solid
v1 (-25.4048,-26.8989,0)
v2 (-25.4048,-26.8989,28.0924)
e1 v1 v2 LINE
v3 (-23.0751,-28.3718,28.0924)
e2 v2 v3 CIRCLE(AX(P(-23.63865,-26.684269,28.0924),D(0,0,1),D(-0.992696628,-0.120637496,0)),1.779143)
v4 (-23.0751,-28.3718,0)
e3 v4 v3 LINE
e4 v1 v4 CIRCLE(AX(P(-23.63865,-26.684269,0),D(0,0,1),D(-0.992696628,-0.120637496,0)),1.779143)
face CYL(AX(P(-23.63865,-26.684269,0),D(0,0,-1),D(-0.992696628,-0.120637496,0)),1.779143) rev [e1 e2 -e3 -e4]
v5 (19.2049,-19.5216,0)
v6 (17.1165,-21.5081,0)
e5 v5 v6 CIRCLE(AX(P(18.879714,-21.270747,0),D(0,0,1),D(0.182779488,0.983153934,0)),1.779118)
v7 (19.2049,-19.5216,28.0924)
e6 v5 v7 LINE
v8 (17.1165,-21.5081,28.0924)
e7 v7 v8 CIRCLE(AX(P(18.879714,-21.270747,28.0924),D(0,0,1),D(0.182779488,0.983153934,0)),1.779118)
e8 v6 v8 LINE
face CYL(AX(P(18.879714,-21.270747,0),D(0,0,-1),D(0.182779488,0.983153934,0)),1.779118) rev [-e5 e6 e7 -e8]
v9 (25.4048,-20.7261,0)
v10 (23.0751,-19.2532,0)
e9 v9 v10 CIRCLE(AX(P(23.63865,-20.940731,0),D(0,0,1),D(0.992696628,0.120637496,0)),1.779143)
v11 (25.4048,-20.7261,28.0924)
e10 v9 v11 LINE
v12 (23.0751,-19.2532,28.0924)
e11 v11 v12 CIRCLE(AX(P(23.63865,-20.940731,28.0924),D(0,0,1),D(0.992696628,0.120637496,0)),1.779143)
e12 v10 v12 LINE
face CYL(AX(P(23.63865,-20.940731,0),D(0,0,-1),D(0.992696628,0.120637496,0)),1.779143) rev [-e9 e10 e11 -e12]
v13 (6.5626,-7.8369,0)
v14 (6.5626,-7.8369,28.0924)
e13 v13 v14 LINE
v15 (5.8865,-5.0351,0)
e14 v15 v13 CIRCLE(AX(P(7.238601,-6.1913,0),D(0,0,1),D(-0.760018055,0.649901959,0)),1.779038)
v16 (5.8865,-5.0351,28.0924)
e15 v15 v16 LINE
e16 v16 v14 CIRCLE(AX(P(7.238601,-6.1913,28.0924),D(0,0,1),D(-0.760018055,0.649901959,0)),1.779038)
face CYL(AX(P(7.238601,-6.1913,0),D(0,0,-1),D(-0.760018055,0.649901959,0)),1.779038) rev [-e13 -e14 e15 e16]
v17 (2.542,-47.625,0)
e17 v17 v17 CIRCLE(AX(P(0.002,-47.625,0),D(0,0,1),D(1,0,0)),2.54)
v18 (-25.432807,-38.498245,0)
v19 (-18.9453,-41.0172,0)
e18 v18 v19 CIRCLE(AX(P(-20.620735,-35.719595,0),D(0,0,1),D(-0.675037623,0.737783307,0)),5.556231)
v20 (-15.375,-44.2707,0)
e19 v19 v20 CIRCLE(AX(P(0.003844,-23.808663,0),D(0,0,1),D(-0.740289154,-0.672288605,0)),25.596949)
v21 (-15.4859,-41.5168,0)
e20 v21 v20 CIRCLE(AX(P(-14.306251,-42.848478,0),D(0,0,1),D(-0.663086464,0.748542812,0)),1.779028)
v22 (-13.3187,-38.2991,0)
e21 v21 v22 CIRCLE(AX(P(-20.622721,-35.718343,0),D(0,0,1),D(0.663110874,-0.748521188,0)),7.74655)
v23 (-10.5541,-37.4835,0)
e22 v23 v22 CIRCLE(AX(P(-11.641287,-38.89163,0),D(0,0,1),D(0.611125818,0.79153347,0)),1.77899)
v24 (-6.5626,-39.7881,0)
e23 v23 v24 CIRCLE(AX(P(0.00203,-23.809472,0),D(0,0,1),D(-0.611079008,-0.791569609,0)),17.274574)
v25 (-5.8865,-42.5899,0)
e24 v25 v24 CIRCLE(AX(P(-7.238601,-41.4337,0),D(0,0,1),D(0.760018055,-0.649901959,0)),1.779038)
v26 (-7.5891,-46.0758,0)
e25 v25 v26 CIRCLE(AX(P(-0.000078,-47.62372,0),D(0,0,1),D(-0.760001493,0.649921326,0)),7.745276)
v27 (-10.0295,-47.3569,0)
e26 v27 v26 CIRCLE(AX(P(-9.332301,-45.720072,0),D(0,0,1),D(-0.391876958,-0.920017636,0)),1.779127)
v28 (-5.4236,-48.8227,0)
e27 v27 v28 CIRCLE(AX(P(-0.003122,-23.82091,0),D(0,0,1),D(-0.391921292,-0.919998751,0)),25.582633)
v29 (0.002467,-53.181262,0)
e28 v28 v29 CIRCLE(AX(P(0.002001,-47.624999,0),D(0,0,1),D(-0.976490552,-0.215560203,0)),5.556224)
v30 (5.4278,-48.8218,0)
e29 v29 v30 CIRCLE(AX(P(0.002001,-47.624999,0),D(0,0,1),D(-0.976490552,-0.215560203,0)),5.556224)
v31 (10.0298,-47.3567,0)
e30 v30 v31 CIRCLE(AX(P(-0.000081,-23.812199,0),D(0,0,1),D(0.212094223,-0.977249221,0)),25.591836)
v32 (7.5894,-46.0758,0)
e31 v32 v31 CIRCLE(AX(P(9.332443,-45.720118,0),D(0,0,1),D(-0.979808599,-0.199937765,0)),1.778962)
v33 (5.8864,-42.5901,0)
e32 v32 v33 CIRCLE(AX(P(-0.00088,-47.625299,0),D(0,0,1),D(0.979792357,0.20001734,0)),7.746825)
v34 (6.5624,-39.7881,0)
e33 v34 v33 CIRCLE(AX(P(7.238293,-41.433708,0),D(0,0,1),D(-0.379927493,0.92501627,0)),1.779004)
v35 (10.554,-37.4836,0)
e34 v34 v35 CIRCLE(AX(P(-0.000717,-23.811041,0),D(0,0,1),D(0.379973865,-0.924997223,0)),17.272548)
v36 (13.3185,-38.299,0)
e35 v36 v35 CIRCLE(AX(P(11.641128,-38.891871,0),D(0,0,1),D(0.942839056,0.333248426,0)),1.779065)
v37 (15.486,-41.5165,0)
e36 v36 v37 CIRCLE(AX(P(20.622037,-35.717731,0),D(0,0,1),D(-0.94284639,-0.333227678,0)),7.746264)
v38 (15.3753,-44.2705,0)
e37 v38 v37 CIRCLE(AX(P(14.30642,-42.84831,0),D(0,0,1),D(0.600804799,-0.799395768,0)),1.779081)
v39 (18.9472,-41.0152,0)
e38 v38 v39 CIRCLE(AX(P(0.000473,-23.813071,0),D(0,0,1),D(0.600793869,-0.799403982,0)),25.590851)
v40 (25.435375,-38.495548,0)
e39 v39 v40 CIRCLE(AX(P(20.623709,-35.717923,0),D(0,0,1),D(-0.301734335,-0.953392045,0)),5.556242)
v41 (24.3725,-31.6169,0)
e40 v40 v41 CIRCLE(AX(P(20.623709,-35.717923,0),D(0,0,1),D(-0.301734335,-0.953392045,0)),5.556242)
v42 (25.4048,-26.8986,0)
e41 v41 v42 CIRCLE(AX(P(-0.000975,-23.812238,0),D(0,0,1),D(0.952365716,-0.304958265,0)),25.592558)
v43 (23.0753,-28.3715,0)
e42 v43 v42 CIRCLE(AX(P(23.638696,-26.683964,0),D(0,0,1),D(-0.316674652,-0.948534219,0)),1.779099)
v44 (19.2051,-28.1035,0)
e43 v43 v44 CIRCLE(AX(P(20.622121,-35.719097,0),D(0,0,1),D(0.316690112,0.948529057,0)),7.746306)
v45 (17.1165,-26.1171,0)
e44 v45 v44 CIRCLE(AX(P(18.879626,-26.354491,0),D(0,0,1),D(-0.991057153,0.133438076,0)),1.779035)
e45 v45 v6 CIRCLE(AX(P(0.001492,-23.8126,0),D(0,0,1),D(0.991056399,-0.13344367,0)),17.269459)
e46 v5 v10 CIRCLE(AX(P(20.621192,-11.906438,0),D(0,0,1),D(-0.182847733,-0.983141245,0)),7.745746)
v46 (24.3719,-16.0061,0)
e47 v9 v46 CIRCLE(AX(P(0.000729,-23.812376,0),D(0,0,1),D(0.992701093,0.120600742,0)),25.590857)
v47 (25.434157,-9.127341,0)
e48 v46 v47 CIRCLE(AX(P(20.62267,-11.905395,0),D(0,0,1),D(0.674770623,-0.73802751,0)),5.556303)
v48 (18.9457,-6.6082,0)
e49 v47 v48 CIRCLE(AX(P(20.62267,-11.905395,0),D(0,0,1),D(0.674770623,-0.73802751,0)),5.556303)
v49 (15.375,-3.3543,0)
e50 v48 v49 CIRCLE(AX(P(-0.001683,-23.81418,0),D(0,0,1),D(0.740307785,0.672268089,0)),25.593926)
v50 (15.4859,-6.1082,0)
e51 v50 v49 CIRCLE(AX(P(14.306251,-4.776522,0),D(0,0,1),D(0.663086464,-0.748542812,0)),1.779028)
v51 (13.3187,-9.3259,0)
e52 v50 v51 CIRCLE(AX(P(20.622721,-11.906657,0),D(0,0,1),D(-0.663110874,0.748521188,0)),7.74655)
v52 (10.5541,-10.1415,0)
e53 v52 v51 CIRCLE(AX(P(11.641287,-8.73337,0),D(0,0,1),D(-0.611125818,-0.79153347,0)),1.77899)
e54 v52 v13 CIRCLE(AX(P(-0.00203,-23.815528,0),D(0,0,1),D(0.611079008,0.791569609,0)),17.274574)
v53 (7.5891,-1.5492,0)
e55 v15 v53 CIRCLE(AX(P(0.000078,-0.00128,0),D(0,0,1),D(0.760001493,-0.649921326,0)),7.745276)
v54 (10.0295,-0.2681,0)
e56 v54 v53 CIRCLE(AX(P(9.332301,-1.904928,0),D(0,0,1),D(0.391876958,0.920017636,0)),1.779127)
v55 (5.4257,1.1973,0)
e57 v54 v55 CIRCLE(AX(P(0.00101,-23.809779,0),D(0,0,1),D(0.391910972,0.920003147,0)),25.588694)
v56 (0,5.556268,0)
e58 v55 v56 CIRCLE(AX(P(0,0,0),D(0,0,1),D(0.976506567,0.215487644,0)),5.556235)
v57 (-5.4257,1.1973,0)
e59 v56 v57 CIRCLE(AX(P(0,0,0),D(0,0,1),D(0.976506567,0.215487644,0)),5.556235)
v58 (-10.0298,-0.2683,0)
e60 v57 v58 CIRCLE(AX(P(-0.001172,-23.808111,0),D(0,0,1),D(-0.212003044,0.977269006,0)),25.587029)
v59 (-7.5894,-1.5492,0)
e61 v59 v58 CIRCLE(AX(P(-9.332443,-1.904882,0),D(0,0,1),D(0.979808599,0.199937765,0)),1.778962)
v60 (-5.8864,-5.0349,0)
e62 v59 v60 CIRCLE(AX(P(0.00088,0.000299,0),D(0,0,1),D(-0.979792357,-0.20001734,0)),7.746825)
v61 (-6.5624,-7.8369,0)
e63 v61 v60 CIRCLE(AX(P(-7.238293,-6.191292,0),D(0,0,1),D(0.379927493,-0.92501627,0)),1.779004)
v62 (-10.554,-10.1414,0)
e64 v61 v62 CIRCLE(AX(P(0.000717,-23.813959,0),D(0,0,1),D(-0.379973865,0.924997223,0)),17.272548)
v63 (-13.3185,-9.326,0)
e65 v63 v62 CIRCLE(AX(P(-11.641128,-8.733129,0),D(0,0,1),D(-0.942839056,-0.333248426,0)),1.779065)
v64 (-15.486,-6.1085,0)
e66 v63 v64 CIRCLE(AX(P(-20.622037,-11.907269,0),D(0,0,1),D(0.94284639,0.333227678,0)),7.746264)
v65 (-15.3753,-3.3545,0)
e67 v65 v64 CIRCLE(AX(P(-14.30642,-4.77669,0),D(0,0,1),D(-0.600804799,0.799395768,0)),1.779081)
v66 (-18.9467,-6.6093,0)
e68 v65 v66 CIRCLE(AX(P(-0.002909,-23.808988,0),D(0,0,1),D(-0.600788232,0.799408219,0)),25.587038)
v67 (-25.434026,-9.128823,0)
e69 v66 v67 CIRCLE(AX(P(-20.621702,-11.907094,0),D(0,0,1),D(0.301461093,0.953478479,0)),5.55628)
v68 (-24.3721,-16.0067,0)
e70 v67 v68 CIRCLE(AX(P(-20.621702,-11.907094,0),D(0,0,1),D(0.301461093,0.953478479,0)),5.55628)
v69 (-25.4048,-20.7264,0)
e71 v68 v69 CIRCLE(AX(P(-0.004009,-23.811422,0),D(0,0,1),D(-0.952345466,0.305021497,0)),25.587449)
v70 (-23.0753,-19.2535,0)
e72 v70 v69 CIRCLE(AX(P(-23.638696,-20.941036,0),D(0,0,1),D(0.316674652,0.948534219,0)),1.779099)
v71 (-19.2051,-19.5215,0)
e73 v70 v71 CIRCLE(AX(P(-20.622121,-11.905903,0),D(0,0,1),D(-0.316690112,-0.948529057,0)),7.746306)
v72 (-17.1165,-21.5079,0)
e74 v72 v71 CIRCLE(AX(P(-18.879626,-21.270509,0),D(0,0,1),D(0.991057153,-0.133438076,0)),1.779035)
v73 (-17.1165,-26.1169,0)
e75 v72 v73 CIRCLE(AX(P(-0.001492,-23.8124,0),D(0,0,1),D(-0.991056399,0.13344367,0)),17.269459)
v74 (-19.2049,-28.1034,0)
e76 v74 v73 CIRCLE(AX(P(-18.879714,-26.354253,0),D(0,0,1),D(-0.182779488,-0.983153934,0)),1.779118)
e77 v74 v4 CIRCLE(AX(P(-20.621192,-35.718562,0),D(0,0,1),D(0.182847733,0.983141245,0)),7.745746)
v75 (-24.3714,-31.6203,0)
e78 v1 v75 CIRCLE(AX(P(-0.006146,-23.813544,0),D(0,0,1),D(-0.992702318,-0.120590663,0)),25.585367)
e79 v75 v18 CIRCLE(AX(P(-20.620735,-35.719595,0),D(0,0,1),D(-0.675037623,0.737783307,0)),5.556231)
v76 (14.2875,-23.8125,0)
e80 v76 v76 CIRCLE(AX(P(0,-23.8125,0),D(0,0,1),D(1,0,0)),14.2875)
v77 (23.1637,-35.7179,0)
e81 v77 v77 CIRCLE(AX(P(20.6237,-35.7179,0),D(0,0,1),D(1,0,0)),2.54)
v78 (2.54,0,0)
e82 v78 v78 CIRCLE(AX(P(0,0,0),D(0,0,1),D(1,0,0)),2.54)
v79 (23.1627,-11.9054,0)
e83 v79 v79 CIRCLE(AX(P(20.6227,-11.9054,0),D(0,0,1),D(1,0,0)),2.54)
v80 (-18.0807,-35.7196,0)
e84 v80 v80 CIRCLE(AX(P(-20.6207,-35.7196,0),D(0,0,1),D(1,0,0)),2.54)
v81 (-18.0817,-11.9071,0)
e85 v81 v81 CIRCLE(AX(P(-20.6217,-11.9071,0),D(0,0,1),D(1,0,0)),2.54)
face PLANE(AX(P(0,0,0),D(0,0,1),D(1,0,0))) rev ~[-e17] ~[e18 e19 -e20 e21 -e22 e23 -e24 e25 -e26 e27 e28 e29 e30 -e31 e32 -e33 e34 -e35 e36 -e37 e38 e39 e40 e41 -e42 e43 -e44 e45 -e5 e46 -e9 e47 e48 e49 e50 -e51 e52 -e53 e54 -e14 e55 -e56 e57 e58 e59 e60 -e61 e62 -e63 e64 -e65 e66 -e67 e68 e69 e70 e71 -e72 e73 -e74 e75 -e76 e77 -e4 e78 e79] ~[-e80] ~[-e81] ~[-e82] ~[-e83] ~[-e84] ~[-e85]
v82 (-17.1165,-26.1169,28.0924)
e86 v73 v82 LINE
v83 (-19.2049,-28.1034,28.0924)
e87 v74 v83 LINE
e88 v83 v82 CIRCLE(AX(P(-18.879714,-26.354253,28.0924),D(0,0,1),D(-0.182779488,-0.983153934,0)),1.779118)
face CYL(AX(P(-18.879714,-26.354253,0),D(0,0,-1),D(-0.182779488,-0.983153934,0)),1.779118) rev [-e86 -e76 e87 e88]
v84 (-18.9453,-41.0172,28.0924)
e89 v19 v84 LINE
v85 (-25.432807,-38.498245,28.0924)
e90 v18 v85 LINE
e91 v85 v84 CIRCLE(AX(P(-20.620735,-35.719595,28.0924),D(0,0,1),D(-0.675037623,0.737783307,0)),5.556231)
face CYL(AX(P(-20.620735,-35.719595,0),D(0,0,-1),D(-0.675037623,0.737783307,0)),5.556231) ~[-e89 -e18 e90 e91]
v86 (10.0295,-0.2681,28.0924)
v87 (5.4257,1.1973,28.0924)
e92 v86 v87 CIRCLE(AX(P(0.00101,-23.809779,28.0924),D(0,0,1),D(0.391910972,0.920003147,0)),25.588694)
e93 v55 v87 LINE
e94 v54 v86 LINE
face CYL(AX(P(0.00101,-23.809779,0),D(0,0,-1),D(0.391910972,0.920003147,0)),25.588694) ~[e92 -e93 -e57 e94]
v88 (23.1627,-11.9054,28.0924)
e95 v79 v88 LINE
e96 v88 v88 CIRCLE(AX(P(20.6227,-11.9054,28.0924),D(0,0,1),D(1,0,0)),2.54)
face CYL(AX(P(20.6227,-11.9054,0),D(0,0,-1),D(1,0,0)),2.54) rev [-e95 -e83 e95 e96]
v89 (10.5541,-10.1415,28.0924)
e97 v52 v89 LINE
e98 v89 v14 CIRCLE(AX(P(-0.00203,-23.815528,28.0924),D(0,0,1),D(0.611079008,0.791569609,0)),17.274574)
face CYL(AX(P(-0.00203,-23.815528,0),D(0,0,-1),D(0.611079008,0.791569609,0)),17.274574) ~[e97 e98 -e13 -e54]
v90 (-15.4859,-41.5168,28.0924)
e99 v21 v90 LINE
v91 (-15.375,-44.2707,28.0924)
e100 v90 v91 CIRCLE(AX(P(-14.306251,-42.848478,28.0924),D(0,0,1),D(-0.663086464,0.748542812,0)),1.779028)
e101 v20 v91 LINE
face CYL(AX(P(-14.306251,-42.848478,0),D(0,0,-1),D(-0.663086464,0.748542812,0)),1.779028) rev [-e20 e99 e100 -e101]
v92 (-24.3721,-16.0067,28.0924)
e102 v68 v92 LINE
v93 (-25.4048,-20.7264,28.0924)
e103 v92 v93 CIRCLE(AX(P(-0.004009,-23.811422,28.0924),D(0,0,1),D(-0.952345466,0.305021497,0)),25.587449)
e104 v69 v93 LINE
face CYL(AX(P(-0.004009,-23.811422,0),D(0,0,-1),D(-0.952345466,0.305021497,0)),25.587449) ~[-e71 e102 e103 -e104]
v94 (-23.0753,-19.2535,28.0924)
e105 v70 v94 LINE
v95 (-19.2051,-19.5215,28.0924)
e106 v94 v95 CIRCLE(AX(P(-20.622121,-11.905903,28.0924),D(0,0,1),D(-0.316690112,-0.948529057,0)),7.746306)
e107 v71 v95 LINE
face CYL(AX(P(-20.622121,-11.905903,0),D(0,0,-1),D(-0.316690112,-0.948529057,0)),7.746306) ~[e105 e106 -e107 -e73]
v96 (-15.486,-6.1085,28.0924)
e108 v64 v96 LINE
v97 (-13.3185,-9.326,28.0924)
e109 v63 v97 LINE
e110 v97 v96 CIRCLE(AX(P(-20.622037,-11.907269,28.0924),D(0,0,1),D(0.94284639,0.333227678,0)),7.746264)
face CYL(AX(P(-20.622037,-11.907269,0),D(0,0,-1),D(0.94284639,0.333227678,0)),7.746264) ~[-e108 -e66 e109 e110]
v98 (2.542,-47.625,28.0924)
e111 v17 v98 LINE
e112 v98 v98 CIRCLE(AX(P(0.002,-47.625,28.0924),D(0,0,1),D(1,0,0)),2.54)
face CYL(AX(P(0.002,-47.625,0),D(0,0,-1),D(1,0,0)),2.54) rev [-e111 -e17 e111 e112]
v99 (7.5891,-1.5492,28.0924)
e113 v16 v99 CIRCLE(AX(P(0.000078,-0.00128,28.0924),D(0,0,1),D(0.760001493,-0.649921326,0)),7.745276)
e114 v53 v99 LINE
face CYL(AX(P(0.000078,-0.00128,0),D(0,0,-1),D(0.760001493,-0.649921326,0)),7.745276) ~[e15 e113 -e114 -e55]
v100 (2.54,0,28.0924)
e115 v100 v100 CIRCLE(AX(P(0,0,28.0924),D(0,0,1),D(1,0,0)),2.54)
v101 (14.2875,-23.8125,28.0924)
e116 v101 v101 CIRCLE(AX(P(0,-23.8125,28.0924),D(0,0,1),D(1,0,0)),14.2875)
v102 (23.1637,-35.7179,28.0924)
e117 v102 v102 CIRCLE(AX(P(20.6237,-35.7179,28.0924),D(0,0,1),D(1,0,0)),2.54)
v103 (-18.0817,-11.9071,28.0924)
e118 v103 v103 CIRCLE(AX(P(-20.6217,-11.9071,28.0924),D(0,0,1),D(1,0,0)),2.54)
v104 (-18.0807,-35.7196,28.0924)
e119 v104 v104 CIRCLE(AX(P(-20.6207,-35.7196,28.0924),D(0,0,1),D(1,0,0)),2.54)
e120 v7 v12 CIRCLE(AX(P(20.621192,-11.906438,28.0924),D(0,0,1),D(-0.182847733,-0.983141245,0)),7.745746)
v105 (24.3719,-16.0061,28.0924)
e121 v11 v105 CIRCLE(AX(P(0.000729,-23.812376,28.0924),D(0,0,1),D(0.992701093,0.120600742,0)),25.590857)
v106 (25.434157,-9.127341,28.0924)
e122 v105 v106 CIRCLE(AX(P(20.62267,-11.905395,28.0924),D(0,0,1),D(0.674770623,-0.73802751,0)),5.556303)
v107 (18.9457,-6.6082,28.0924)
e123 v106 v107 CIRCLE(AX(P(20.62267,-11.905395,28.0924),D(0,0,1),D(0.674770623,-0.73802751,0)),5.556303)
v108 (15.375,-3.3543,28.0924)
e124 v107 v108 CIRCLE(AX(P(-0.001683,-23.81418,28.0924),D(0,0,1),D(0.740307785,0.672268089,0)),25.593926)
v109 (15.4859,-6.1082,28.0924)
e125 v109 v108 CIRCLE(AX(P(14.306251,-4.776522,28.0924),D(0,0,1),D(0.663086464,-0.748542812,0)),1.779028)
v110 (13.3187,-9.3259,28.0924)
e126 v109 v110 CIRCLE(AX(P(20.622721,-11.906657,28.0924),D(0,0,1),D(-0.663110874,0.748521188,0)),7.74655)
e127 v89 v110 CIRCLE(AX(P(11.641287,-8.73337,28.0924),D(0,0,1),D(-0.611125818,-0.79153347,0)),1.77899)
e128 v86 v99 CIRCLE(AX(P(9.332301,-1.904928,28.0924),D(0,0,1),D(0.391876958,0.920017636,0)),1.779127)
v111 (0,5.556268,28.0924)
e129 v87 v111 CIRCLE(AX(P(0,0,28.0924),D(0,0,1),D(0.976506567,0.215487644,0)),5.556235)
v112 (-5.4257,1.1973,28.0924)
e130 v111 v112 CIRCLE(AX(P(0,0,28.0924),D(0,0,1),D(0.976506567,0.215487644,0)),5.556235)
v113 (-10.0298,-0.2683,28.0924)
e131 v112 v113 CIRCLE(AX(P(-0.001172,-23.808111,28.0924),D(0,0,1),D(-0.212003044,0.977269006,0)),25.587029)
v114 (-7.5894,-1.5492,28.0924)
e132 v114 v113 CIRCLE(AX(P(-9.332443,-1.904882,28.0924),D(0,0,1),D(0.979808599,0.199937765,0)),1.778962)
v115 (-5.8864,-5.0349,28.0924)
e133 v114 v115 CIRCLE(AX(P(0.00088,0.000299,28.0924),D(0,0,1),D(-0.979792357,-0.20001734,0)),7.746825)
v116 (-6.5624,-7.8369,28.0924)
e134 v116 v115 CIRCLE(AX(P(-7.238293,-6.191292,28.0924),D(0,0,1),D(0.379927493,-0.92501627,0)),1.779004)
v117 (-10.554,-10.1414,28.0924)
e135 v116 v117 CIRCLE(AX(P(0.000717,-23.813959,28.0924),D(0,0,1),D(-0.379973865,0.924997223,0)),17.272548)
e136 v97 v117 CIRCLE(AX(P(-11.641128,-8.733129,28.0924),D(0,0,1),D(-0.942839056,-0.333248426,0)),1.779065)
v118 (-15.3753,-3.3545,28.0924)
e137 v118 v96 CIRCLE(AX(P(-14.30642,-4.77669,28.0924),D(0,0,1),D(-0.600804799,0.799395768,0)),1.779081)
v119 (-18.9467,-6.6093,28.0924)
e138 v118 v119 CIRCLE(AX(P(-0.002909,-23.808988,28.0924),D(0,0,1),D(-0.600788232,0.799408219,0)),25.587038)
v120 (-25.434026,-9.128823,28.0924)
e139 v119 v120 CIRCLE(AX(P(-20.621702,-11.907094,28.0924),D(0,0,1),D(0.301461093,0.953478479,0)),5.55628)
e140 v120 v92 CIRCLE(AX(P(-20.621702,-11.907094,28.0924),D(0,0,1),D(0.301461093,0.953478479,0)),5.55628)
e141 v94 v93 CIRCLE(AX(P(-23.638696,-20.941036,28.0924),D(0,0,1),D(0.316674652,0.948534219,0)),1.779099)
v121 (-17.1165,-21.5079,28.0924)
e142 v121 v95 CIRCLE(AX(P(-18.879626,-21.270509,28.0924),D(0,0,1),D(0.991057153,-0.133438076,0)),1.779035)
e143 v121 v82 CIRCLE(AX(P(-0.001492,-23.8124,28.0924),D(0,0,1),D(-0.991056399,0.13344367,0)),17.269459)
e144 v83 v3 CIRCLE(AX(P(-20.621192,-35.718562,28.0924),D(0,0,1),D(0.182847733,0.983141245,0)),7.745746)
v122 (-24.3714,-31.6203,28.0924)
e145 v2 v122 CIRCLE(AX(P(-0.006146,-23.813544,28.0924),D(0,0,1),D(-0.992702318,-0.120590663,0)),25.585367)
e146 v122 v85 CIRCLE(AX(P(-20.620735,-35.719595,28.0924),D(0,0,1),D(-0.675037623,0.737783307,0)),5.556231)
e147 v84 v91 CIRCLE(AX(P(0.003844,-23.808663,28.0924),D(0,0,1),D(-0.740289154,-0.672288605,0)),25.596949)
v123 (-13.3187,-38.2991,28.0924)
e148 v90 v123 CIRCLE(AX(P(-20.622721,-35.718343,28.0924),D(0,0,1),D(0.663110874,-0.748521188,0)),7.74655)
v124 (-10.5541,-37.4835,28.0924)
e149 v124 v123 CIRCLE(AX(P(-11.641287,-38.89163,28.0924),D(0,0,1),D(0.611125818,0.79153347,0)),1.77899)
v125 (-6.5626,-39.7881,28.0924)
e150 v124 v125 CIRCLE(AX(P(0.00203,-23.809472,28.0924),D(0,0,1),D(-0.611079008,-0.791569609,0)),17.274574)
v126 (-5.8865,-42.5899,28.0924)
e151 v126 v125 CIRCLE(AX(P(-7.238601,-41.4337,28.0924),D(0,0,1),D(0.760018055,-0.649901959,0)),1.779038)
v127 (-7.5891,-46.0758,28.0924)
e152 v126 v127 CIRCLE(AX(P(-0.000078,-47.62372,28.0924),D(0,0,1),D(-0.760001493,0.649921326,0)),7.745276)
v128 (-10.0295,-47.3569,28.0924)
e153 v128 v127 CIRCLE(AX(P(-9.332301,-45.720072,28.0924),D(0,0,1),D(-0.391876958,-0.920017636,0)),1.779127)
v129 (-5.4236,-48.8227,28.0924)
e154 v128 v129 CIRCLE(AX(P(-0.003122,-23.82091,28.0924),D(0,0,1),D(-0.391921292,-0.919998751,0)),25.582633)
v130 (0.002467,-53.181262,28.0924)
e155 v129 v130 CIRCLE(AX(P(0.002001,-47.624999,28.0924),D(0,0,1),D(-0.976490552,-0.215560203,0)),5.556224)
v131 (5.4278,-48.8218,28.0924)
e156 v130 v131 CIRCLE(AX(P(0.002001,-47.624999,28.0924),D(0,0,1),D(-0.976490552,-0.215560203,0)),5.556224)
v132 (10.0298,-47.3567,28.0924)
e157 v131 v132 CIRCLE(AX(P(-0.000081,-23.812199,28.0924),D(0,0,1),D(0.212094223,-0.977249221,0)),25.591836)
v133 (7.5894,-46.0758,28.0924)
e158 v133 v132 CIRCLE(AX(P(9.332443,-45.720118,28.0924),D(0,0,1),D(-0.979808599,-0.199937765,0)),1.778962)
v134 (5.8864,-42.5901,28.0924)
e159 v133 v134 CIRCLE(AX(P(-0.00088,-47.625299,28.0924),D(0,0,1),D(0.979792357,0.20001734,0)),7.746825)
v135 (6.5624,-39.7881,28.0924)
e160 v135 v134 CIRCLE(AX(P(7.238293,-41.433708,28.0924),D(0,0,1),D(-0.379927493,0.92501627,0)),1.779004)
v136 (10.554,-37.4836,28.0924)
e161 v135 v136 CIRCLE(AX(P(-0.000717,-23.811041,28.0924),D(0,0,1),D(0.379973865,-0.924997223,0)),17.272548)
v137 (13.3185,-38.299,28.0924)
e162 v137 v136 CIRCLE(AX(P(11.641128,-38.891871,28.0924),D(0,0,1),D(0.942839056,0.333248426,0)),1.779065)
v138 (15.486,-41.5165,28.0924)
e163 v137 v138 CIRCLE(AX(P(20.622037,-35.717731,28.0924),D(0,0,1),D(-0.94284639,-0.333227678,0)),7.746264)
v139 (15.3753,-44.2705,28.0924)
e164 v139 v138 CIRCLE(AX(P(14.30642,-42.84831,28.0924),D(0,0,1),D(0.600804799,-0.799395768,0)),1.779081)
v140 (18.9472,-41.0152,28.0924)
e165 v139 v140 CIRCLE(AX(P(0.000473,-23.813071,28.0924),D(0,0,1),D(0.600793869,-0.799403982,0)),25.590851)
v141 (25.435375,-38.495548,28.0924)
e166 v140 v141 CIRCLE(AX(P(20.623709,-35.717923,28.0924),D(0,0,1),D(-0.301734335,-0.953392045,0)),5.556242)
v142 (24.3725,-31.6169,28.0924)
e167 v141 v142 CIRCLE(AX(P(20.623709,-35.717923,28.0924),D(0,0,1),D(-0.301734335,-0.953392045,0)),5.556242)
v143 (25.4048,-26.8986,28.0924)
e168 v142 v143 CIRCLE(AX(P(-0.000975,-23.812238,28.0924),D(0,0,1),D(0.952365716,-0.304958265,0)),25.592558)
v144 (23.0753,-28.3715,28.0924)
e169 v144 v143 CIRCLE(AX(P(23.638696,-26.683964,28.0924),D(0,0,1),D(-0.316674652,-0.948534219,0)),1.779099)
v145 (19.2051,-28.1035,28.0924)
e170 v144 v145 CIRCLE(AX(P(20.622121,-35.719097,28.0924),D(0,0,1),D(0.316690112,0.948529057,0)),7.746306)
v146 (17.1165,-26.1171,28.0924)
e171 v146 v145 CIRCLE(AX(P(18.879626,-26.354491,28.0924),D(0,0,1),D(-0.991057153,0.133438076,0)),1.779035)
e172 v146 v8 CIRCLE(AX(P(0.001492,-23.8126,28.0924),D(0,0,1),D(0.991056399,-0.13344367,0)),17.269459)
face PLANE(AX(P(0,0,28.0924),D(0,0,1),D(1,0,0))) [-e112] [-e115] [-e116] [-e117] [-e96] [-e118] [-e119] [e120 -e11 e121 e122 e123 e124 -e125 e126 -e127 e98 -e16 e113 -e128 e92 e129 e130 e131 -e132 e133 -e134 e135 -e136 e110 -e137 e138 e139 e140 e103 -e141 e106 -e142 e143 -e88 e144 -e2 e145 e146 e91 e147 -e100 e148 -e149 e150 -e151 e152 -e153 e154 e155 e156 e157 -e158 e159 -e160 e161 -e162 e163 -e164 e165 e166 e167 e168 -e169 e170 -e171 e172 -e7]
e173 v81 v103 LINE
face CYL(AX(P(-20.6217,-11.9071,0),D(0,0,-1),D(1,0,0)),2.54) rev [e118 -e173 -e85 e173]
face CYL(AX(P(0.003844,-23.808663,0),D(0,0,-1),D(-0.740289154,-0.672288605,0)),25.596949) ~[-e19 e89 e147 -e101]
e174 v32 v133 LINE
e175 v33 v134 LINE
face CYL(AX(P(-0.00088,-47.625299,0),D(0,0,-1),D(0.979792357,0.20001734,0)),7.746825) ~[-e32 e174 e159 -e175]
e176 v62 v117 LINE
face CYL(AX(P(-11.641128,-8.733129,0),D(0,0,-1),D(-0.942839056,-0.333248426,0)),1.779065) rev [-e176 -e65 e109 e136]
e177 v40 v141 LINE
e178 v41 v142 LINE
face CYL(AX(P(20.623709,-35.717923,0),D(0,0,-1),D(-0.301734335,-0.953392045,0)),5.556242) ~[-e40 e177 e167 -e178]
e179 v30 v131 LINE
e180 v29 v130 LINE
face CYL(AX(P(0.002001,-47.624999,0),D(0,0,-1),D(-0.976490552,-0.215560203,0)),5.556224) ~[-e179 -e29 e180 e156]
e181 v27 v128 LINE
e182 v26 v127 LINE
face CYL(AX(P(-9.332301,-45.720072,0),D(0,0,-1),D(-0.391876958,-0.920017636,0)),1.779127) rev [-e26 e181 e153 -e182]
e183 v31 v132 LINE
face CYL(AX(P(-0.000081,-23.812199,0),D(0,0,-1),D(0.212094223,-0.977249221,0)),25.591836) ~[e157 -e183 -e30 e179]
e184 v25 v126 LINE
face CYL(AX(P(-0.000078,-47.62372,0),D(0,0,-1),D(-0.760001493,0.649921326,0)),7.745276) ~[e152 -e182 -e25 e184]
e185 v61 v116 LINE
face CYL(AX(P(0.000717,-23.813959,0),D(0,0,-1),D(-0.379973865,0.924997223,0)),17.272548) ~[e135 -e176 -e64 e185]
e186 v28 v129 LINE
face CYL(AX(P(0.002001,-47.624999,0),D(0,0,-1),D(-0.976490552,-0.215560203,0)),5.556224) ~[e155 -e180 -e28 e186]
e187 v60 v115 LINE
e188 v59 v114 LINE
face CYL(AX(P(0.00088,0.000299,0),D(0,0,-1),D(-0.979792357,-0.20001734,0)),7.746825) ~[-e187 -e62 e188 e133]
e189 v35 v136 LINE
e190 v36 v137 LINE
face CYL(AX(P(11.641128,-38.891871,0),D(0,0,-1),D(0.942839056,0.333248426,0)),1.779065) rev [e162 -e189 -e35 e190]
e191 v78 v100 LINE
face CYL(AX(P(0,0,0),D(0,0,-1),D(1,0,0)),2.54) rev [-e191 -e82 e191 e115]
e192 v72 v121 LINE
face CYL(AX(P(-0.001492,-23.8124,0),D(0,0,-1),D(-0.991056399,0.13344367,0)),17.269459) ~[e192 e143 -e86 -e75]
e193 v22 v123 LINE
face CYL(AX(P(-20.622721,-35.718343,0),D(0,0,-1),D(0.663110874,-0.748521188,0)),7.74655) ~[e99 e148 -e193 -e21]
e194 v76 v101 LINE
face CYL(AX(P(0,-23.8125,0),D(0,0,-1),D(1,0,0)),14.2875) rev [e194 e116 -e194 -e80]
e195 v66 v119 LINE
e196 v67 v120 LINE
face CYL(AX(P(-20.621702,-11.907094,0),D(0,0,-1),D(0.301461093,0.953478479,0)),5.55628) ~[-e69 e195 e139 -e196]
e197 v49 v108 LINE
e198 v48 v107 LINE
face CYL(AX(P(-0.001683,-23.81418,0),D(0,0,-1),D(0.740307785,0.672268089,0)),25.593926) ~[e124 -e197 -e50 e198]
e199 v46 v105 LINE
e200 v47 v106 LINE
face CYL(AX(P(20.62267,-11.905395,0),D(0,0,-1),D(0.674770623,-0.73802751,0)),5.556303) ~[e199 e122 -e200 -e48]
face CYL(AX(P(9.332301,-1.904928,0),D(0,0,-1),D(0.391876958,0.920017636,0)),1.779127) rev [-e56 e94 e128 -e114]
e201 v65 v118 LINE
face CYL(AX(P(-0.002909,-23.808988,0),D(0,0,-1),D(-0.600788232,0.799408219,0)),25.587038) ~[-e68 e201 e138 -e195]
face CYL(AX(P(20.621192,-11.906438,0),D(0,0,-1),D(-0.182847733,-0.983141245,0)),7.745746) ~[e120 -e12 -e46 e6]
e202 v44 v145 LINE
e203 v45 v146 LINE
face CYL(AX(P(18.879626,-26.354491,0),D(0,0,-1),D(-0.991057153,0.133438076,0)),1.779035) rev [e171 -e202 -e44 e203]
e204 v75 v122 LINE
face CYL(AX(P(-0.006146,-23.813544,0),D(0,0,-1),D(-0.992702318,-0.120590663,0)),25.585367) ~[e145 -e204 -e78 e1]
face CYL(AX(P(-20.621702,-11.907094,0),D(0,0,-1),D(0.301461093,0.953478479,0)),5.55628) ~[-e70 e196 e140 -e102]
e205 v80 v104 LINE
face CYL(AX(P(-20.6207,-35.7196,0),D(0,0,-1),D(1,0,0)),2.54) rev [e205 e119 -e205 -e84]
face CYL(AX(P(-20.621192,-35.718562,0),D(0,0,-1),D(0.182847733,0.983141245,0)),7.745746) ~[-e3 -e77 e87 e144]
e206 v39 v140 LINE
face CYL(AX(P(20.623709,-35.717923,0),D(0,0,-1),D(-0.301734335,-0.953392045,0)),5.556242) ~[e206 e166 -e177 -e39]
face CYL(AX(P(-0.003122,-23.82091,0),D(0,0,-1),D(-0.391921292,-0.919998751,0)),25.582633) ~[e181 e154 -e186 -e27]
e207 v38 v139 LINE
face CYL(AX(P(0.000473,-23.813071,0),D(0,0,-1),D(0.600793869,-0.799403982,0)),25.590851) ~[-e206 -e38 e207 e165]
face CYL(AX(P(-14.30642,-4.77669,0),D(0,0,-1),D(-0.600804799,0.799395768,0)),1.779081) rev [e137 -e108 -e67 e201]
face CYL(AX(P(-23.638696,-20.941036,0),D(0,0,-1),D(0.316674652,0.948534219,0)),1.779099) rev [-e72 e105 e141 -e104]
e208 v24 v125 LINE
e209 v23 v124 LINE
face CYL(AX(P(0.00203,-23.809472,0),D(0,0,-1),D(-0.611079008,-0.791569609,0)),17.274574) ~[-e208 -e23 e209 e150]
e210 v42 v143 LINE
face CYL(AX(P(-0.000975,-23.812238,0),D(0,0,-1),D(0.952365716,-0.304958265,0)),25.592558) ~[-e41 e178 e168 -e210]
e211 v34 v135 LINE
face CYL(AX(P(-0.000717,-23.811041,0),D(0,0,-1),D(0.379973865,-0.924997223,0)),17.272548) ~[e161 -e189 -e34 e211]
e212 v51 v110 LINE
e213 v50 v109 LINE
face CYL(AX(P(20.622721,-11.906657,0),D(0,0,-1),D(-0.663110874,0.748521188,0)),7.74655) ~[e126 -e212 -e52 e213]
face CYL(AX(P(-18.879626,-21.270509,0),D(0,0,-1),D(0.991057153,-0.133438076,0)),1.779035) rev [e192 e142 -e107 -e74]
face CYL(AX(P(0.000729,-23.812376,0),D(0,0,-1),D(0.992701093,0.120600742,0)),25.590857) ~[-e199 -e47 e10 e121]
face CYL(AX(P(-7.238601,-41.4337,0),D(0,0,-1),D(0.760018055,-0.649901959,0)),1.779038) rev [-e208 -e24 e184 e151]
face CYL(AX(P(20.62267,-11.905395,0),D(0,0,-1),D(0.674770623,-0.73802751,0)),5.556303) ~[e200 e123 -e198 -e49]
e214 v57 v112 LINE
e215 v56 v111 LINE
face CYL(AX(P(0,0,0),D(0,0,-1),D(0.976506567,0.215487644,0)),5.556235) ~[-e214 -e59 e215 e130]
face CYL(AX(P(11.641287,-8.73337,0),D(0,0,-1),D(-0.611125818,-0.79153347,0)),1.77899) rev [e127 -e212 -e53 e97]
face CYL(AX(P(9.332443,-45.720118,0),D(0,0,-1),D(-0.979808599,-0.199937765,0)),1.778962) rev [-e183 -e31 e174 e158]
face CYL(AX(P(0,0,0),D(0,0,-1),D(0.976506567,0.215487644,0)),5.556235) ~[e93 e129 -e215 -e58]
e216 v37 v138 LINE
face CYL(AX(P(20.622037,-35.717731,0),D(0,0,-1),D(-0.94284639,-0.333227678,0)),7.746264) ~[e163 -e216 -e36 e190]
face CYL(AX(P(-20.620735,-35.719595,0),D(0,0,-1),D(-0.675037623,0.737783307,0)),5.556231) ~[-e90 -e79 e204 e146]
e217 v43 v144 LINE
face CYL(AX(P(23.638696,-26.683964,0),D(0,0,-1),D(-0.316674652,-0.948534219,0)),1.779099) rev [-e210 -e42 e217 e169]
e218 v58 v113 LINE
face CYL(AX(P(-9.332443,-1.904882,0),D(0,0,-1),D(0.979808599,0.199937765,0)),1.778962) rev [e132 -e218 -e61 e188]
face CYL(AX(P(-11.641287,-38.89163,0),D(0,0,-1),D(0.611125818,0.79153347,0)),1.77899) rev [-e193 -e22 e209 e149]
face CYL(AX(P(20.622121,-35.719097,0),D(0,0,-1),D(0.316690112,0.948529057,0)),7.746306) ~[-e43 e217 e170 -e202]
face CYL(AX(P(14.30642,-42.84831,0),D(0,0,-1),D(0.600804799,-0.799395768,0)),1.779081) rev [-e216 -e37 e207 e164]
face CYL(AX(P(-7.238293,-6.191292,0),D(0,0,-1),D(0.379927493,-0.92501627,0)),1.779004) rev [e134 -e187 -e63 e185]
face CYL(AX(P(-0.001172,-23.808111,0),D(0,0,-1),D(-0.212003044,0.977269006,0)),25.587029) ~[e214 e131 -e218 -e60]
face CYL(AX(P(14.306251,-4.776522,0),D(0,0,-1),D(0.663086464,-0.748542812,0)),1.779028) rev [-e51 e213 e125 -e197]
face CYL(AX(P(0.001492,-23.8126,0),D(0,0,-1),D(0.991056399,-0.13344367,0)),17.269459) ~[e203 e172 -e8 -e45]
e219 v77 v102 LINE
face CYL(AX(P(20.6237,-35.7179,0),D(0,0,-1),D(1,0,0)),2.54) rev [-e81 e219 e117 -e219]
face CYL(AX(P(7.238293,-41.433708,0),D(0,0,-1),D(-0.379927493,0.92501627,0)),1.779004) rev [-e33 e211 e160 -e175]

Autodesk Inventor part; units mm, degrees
ref_plane "YZ Plane" through (0, 0, 0) normal (1, 0, 0) x (0, 1, 0)
ref_plane "XZ Plane" through (0, 0, 0) normal (0, 1, 0) x (-1, 0, 0)
ref_plane "XY Plane" through (0, 0, 0) normal (0, 0, 1) x (1, 0, 0)
sketch "Sketch1" plane through (0, 0, 0) normal (0, 0, 1) x (1, 0, 0)
  arc A0 (24.3719, -16.0061) -> (18.9457, -6.6082) centre (20.6227, -11.9054) ccw
  arc A1 (18.9457, -6.6082) -> (15.375, -3.3543) centre (0, -23.8125) ccw
  arc A2 (15.4859, -6.1082) -> (15.375, -3.3543) centre (14.3062, -4.7765) ccw
  arc A3 (15.4859, -6.1082) -> (13.3187, -9.3259) centre (20.6222, -11.9062) ccw
  arc A4 (10.5541, -10.1415) -> (13.3187, -9.3259) centre (11.6413, -8.7333) ccw
  arc A5 (10.5541, -10.1415) -> (6.5626, -7.8369) centre (0, -23.8125) ccw
  arc A6 (5.8865, -5.0351) -> (6.5626, -7.8369) centre (7.2386, -6.1913) ccw
  arc A7 (5.8865, -5.0351) -> (7.5891, -1.5492) centre (-0.0005, -0.0009) ccw
  arc A8 (10.0295, -0.2681) -> (7.5891, -1.5492) centre (9.3323, -1.9049) ccw
  arc A9 (10.0295, -0.2681) -> (5.4257, 1.1973) centre (0, -23.8125) ccw
  arc A10 (5.4257, 1.1973) -> (-5.4257, 1.1973) centre (0, 0) ccw
  arc A11 (-5.4257, 1.1973) -> (-10.0298, -0.2683) centre (0, -23.8125) ccw
  arc A12 (-7.5894, -1.5492) -> (-10.0298, -0.2683) centre (-9.3326, -1.905) ccw
  arc A13 (-7.5894, -1.5492) -> (-5.8864, -5.0349) centre (0, 0) ccw
  arc A14 (-6.5624, -7.8369) -> (-5.8864, -5.0349) centre (-7.2384, -6.1912) ccw
  arc A15 (-6.5624, -7.8369) -> (-10.554, -10.1414) centre (0, -23.8125) ccw
  arc A16 (-13.3185, -9.326) -> (-10.554, -10.1414) centre (-11.6411, -8.7331) ccw
  arc A17 (-13.3185, -9.326) -> (-15.486, -6.1085) centre (-20.6217, -11.9071) ccw
  arc A18 (-15.3753, -3.3545) -> (-15.486, -6.1085) centre (-14.3064, -4.7767) ccw
  arc A19 (-15.3753, -3.3545) -> (-18.9467, -6.6093) centre (0, -23.8125) ccw
  arc A20 (-18.9467, -6.6093) -> (-24.3721, -16.0067) centre (-20.6217, -11.9071) ccw
  arc A21 (-24.3721, -16.0067) -> (-25.4048, -20.7264) centre (0, -23.8125) ccw
  arc A22 (-23.0753, -19.2535) -> (-25.4048, -20.7264) centre (-23.6387, -20.941) ccw
  arc A23 (-23.0753, -19.2535) -> (-19.2051, -19.5215) centre (-20.6222, -11.9063) ccw
  arc A24 (-17.1165, -21.5079) -> (-19.2051, -19.5215) centre (-18.8796, -21.2705) ccw
  arc A25 (-17.1165, -21.5079) -> (-17.1165, -26.1169) centre (0, -23.8125) ccw
  arc A26 (-19.2049, -28.1034) -> (-17.1165, -26.1169) centre (-18.8797, -26.3543) ccw
  arc A27 (-19.2049, -28.1034) -> (-23.0751, -28.3718) centre (-20.6212, -35.7187) ccw
  arc A28 (-25.4048, -26.8989) -> (-23.0751, -28.3718) centre (-23.6387, -26.6843) ccw
  arc A29 (-25.4048, -26.8989) -> (-24.3714, -31.6203) centre (0, -23.8125) ccw
  arc A30 (-24.3714, -31.6203) -> (-18.9453, -41.0172) centre (-20.6207, -35.7196) ccw
  arc A31 (-18.9453, -41.0172) -> (-15.375, -44.2707) centre (0, -23.8125) ccw
  arc A32 (-15.4859, -41.5168) -> (-15.375, -44.2707) centre (-14.3062, -42.8485) ccw
  arc A33 (-15.4859, -41.5168) -> (-13.3187, -38.2991) centre (-20.6222, -35.7188) ccw
  arc A34 (-10.5541, -37.4835) -> (-13.3187, -38.2991) centre (-11.6413, -38.8917) ccw
  arc A35 (-10.5541, -37.4835) -> (-6.5626, -39.7881) centre (0, -23.8125) ccw
  arc A36 (-5.8865, -42.5899) -> (-6.5626, -39.7881) centre (-7.2386, -41.4337) ccw
  arc A37 (-5.8865, -42.5899) -> (-7.5891, -46.0758) centre (0.0005, -47.6241) ccw
  arc A38 (-10.0295, -47.3569) -> (-7.5891, -46.0758) centre (-9.3323, -45.7201) ccw
  arc A39 (-10.0295, -47.3569) -> (-5.4236, -48.8227) centre (0, -23.8125) ccw
  arc A40 (-5.4236, -48.8227) -> (5.4278, -48.8218) centre (0.002, -47.625) ccw
  arc A41 (5.4278, -48.8218) -> (10.0298, -47.3567) centre (0, -23.8125) ccw
  arc A42 (7.5894, -46.0758) -> (10.0298, -47.3567) centre (9.3326, -45.72) ccw
  arc A43 (7.5894, -46.0758) -> (5.8864, -42.5901) centre (0, -47.625) ccw
  arc A44 (6.5624, -39.7881) -> (5.8864, -42.5901) centre (7.2384, -41.4338) ccw
  arc A45 (6.5624, -39.7881) -> (10.554, -37.4836) centre (0, -23.8125) ccw
  arc A46 (13.3185, -38.299) -> (10.554, -37.4836) centre (11.6411, -38.8919) ccw
  arc A47 (13.3185, -38.299) -> (15.486, -41.5165) centre (20.6217, -35.7179) ccw
  arc A48 (15.3753, -44.2705) -> (15.486, -41.5165) centre (14.3064, -42.8483) ccw
  arc A49 (15.3753, -44.2705) -> (18.9472, -41.0152) centre (0, -23.8125) ccw
  arc A50 (18.9472, -41.0152) -> (24.3725, -31.6169) centre (20.6237, -35.7179) ccw
  arc A51 (24.3725, -31.6169) -> (25.4048, -26.8986) centre (0, -23.8125) ccw
  arc A52 (23.0753, -28.3715) -> (25.4048, -26.8986) centre (23.6387, -26.684) ccw
  arc A53 (23.0753, -28.3715) -> (19.2051, -28.1035) centre (20.6222, -35.7187) ccw
  arc A54 (17.1165, -26.1171) -> (19.2051, -28.1035) centre (18.8796, -26.3545) ccw
  arc A55 (17.1165, -26.1171) -> (17.1165, -21.5081) centre (0, -23.8125) ccw
  arc A56 (19.2049, -19.5216) -> (17.1165, -21.5081) centre (18.8797, -21.2707) ccw
  arc A57 (19.2049, -19.5216) -> (23.0751, -19.2532) centre (20.6212, -11.9063) ccw
  arc A58 (25.4048, -20.7261) -> (23.0751, -19.2532) centre (23.6387, -20.9407) ccw
  arc A59 (25.4048, -20.7261) -> (24.3719, -16.0061) centre (0, -23.8125) ccw
  circle A60 centre (20.6227, -11.9054) radius 2.54
  circle A61 centre (20.6237, -35.7179) radius 2.54
  circle A62 centre (0.002, -47.625) radius 2.54
  circle A63 centre (-20.6207, -35.7196) radius 2.54
  circle A64 centre (-20.6217, -11.9071) radius 2.54
  circle A65 centre (0, 0) radius 2.54
  circle A66 centre (0, -23.8125) radius 14.2875
  circle A67 centre (0, -23.8125) radius 29.3688
extrude "Extrusion1" add sketch "Sketch1" along normal blind 28.0924 contours A59 A58 A57 A56 A55 A54 A53 A52 A51 A50 A49 A48 A47 A46 A45 A44 A43 A42 A41 A40 A39 A38 A37 A36 A35 A34 A33 A32 A31 A30 A29 A28 A27 A26 A25 A24 A23 A22 A21 A20 A19 A18 A17 A16 A15 A14 A13 A12 A11 A10 A9 A8 A7 A6 A5 A4 A3 A2 A1 A0
properties part number "back wheel spacer" material "PC/ABS Plastic"
